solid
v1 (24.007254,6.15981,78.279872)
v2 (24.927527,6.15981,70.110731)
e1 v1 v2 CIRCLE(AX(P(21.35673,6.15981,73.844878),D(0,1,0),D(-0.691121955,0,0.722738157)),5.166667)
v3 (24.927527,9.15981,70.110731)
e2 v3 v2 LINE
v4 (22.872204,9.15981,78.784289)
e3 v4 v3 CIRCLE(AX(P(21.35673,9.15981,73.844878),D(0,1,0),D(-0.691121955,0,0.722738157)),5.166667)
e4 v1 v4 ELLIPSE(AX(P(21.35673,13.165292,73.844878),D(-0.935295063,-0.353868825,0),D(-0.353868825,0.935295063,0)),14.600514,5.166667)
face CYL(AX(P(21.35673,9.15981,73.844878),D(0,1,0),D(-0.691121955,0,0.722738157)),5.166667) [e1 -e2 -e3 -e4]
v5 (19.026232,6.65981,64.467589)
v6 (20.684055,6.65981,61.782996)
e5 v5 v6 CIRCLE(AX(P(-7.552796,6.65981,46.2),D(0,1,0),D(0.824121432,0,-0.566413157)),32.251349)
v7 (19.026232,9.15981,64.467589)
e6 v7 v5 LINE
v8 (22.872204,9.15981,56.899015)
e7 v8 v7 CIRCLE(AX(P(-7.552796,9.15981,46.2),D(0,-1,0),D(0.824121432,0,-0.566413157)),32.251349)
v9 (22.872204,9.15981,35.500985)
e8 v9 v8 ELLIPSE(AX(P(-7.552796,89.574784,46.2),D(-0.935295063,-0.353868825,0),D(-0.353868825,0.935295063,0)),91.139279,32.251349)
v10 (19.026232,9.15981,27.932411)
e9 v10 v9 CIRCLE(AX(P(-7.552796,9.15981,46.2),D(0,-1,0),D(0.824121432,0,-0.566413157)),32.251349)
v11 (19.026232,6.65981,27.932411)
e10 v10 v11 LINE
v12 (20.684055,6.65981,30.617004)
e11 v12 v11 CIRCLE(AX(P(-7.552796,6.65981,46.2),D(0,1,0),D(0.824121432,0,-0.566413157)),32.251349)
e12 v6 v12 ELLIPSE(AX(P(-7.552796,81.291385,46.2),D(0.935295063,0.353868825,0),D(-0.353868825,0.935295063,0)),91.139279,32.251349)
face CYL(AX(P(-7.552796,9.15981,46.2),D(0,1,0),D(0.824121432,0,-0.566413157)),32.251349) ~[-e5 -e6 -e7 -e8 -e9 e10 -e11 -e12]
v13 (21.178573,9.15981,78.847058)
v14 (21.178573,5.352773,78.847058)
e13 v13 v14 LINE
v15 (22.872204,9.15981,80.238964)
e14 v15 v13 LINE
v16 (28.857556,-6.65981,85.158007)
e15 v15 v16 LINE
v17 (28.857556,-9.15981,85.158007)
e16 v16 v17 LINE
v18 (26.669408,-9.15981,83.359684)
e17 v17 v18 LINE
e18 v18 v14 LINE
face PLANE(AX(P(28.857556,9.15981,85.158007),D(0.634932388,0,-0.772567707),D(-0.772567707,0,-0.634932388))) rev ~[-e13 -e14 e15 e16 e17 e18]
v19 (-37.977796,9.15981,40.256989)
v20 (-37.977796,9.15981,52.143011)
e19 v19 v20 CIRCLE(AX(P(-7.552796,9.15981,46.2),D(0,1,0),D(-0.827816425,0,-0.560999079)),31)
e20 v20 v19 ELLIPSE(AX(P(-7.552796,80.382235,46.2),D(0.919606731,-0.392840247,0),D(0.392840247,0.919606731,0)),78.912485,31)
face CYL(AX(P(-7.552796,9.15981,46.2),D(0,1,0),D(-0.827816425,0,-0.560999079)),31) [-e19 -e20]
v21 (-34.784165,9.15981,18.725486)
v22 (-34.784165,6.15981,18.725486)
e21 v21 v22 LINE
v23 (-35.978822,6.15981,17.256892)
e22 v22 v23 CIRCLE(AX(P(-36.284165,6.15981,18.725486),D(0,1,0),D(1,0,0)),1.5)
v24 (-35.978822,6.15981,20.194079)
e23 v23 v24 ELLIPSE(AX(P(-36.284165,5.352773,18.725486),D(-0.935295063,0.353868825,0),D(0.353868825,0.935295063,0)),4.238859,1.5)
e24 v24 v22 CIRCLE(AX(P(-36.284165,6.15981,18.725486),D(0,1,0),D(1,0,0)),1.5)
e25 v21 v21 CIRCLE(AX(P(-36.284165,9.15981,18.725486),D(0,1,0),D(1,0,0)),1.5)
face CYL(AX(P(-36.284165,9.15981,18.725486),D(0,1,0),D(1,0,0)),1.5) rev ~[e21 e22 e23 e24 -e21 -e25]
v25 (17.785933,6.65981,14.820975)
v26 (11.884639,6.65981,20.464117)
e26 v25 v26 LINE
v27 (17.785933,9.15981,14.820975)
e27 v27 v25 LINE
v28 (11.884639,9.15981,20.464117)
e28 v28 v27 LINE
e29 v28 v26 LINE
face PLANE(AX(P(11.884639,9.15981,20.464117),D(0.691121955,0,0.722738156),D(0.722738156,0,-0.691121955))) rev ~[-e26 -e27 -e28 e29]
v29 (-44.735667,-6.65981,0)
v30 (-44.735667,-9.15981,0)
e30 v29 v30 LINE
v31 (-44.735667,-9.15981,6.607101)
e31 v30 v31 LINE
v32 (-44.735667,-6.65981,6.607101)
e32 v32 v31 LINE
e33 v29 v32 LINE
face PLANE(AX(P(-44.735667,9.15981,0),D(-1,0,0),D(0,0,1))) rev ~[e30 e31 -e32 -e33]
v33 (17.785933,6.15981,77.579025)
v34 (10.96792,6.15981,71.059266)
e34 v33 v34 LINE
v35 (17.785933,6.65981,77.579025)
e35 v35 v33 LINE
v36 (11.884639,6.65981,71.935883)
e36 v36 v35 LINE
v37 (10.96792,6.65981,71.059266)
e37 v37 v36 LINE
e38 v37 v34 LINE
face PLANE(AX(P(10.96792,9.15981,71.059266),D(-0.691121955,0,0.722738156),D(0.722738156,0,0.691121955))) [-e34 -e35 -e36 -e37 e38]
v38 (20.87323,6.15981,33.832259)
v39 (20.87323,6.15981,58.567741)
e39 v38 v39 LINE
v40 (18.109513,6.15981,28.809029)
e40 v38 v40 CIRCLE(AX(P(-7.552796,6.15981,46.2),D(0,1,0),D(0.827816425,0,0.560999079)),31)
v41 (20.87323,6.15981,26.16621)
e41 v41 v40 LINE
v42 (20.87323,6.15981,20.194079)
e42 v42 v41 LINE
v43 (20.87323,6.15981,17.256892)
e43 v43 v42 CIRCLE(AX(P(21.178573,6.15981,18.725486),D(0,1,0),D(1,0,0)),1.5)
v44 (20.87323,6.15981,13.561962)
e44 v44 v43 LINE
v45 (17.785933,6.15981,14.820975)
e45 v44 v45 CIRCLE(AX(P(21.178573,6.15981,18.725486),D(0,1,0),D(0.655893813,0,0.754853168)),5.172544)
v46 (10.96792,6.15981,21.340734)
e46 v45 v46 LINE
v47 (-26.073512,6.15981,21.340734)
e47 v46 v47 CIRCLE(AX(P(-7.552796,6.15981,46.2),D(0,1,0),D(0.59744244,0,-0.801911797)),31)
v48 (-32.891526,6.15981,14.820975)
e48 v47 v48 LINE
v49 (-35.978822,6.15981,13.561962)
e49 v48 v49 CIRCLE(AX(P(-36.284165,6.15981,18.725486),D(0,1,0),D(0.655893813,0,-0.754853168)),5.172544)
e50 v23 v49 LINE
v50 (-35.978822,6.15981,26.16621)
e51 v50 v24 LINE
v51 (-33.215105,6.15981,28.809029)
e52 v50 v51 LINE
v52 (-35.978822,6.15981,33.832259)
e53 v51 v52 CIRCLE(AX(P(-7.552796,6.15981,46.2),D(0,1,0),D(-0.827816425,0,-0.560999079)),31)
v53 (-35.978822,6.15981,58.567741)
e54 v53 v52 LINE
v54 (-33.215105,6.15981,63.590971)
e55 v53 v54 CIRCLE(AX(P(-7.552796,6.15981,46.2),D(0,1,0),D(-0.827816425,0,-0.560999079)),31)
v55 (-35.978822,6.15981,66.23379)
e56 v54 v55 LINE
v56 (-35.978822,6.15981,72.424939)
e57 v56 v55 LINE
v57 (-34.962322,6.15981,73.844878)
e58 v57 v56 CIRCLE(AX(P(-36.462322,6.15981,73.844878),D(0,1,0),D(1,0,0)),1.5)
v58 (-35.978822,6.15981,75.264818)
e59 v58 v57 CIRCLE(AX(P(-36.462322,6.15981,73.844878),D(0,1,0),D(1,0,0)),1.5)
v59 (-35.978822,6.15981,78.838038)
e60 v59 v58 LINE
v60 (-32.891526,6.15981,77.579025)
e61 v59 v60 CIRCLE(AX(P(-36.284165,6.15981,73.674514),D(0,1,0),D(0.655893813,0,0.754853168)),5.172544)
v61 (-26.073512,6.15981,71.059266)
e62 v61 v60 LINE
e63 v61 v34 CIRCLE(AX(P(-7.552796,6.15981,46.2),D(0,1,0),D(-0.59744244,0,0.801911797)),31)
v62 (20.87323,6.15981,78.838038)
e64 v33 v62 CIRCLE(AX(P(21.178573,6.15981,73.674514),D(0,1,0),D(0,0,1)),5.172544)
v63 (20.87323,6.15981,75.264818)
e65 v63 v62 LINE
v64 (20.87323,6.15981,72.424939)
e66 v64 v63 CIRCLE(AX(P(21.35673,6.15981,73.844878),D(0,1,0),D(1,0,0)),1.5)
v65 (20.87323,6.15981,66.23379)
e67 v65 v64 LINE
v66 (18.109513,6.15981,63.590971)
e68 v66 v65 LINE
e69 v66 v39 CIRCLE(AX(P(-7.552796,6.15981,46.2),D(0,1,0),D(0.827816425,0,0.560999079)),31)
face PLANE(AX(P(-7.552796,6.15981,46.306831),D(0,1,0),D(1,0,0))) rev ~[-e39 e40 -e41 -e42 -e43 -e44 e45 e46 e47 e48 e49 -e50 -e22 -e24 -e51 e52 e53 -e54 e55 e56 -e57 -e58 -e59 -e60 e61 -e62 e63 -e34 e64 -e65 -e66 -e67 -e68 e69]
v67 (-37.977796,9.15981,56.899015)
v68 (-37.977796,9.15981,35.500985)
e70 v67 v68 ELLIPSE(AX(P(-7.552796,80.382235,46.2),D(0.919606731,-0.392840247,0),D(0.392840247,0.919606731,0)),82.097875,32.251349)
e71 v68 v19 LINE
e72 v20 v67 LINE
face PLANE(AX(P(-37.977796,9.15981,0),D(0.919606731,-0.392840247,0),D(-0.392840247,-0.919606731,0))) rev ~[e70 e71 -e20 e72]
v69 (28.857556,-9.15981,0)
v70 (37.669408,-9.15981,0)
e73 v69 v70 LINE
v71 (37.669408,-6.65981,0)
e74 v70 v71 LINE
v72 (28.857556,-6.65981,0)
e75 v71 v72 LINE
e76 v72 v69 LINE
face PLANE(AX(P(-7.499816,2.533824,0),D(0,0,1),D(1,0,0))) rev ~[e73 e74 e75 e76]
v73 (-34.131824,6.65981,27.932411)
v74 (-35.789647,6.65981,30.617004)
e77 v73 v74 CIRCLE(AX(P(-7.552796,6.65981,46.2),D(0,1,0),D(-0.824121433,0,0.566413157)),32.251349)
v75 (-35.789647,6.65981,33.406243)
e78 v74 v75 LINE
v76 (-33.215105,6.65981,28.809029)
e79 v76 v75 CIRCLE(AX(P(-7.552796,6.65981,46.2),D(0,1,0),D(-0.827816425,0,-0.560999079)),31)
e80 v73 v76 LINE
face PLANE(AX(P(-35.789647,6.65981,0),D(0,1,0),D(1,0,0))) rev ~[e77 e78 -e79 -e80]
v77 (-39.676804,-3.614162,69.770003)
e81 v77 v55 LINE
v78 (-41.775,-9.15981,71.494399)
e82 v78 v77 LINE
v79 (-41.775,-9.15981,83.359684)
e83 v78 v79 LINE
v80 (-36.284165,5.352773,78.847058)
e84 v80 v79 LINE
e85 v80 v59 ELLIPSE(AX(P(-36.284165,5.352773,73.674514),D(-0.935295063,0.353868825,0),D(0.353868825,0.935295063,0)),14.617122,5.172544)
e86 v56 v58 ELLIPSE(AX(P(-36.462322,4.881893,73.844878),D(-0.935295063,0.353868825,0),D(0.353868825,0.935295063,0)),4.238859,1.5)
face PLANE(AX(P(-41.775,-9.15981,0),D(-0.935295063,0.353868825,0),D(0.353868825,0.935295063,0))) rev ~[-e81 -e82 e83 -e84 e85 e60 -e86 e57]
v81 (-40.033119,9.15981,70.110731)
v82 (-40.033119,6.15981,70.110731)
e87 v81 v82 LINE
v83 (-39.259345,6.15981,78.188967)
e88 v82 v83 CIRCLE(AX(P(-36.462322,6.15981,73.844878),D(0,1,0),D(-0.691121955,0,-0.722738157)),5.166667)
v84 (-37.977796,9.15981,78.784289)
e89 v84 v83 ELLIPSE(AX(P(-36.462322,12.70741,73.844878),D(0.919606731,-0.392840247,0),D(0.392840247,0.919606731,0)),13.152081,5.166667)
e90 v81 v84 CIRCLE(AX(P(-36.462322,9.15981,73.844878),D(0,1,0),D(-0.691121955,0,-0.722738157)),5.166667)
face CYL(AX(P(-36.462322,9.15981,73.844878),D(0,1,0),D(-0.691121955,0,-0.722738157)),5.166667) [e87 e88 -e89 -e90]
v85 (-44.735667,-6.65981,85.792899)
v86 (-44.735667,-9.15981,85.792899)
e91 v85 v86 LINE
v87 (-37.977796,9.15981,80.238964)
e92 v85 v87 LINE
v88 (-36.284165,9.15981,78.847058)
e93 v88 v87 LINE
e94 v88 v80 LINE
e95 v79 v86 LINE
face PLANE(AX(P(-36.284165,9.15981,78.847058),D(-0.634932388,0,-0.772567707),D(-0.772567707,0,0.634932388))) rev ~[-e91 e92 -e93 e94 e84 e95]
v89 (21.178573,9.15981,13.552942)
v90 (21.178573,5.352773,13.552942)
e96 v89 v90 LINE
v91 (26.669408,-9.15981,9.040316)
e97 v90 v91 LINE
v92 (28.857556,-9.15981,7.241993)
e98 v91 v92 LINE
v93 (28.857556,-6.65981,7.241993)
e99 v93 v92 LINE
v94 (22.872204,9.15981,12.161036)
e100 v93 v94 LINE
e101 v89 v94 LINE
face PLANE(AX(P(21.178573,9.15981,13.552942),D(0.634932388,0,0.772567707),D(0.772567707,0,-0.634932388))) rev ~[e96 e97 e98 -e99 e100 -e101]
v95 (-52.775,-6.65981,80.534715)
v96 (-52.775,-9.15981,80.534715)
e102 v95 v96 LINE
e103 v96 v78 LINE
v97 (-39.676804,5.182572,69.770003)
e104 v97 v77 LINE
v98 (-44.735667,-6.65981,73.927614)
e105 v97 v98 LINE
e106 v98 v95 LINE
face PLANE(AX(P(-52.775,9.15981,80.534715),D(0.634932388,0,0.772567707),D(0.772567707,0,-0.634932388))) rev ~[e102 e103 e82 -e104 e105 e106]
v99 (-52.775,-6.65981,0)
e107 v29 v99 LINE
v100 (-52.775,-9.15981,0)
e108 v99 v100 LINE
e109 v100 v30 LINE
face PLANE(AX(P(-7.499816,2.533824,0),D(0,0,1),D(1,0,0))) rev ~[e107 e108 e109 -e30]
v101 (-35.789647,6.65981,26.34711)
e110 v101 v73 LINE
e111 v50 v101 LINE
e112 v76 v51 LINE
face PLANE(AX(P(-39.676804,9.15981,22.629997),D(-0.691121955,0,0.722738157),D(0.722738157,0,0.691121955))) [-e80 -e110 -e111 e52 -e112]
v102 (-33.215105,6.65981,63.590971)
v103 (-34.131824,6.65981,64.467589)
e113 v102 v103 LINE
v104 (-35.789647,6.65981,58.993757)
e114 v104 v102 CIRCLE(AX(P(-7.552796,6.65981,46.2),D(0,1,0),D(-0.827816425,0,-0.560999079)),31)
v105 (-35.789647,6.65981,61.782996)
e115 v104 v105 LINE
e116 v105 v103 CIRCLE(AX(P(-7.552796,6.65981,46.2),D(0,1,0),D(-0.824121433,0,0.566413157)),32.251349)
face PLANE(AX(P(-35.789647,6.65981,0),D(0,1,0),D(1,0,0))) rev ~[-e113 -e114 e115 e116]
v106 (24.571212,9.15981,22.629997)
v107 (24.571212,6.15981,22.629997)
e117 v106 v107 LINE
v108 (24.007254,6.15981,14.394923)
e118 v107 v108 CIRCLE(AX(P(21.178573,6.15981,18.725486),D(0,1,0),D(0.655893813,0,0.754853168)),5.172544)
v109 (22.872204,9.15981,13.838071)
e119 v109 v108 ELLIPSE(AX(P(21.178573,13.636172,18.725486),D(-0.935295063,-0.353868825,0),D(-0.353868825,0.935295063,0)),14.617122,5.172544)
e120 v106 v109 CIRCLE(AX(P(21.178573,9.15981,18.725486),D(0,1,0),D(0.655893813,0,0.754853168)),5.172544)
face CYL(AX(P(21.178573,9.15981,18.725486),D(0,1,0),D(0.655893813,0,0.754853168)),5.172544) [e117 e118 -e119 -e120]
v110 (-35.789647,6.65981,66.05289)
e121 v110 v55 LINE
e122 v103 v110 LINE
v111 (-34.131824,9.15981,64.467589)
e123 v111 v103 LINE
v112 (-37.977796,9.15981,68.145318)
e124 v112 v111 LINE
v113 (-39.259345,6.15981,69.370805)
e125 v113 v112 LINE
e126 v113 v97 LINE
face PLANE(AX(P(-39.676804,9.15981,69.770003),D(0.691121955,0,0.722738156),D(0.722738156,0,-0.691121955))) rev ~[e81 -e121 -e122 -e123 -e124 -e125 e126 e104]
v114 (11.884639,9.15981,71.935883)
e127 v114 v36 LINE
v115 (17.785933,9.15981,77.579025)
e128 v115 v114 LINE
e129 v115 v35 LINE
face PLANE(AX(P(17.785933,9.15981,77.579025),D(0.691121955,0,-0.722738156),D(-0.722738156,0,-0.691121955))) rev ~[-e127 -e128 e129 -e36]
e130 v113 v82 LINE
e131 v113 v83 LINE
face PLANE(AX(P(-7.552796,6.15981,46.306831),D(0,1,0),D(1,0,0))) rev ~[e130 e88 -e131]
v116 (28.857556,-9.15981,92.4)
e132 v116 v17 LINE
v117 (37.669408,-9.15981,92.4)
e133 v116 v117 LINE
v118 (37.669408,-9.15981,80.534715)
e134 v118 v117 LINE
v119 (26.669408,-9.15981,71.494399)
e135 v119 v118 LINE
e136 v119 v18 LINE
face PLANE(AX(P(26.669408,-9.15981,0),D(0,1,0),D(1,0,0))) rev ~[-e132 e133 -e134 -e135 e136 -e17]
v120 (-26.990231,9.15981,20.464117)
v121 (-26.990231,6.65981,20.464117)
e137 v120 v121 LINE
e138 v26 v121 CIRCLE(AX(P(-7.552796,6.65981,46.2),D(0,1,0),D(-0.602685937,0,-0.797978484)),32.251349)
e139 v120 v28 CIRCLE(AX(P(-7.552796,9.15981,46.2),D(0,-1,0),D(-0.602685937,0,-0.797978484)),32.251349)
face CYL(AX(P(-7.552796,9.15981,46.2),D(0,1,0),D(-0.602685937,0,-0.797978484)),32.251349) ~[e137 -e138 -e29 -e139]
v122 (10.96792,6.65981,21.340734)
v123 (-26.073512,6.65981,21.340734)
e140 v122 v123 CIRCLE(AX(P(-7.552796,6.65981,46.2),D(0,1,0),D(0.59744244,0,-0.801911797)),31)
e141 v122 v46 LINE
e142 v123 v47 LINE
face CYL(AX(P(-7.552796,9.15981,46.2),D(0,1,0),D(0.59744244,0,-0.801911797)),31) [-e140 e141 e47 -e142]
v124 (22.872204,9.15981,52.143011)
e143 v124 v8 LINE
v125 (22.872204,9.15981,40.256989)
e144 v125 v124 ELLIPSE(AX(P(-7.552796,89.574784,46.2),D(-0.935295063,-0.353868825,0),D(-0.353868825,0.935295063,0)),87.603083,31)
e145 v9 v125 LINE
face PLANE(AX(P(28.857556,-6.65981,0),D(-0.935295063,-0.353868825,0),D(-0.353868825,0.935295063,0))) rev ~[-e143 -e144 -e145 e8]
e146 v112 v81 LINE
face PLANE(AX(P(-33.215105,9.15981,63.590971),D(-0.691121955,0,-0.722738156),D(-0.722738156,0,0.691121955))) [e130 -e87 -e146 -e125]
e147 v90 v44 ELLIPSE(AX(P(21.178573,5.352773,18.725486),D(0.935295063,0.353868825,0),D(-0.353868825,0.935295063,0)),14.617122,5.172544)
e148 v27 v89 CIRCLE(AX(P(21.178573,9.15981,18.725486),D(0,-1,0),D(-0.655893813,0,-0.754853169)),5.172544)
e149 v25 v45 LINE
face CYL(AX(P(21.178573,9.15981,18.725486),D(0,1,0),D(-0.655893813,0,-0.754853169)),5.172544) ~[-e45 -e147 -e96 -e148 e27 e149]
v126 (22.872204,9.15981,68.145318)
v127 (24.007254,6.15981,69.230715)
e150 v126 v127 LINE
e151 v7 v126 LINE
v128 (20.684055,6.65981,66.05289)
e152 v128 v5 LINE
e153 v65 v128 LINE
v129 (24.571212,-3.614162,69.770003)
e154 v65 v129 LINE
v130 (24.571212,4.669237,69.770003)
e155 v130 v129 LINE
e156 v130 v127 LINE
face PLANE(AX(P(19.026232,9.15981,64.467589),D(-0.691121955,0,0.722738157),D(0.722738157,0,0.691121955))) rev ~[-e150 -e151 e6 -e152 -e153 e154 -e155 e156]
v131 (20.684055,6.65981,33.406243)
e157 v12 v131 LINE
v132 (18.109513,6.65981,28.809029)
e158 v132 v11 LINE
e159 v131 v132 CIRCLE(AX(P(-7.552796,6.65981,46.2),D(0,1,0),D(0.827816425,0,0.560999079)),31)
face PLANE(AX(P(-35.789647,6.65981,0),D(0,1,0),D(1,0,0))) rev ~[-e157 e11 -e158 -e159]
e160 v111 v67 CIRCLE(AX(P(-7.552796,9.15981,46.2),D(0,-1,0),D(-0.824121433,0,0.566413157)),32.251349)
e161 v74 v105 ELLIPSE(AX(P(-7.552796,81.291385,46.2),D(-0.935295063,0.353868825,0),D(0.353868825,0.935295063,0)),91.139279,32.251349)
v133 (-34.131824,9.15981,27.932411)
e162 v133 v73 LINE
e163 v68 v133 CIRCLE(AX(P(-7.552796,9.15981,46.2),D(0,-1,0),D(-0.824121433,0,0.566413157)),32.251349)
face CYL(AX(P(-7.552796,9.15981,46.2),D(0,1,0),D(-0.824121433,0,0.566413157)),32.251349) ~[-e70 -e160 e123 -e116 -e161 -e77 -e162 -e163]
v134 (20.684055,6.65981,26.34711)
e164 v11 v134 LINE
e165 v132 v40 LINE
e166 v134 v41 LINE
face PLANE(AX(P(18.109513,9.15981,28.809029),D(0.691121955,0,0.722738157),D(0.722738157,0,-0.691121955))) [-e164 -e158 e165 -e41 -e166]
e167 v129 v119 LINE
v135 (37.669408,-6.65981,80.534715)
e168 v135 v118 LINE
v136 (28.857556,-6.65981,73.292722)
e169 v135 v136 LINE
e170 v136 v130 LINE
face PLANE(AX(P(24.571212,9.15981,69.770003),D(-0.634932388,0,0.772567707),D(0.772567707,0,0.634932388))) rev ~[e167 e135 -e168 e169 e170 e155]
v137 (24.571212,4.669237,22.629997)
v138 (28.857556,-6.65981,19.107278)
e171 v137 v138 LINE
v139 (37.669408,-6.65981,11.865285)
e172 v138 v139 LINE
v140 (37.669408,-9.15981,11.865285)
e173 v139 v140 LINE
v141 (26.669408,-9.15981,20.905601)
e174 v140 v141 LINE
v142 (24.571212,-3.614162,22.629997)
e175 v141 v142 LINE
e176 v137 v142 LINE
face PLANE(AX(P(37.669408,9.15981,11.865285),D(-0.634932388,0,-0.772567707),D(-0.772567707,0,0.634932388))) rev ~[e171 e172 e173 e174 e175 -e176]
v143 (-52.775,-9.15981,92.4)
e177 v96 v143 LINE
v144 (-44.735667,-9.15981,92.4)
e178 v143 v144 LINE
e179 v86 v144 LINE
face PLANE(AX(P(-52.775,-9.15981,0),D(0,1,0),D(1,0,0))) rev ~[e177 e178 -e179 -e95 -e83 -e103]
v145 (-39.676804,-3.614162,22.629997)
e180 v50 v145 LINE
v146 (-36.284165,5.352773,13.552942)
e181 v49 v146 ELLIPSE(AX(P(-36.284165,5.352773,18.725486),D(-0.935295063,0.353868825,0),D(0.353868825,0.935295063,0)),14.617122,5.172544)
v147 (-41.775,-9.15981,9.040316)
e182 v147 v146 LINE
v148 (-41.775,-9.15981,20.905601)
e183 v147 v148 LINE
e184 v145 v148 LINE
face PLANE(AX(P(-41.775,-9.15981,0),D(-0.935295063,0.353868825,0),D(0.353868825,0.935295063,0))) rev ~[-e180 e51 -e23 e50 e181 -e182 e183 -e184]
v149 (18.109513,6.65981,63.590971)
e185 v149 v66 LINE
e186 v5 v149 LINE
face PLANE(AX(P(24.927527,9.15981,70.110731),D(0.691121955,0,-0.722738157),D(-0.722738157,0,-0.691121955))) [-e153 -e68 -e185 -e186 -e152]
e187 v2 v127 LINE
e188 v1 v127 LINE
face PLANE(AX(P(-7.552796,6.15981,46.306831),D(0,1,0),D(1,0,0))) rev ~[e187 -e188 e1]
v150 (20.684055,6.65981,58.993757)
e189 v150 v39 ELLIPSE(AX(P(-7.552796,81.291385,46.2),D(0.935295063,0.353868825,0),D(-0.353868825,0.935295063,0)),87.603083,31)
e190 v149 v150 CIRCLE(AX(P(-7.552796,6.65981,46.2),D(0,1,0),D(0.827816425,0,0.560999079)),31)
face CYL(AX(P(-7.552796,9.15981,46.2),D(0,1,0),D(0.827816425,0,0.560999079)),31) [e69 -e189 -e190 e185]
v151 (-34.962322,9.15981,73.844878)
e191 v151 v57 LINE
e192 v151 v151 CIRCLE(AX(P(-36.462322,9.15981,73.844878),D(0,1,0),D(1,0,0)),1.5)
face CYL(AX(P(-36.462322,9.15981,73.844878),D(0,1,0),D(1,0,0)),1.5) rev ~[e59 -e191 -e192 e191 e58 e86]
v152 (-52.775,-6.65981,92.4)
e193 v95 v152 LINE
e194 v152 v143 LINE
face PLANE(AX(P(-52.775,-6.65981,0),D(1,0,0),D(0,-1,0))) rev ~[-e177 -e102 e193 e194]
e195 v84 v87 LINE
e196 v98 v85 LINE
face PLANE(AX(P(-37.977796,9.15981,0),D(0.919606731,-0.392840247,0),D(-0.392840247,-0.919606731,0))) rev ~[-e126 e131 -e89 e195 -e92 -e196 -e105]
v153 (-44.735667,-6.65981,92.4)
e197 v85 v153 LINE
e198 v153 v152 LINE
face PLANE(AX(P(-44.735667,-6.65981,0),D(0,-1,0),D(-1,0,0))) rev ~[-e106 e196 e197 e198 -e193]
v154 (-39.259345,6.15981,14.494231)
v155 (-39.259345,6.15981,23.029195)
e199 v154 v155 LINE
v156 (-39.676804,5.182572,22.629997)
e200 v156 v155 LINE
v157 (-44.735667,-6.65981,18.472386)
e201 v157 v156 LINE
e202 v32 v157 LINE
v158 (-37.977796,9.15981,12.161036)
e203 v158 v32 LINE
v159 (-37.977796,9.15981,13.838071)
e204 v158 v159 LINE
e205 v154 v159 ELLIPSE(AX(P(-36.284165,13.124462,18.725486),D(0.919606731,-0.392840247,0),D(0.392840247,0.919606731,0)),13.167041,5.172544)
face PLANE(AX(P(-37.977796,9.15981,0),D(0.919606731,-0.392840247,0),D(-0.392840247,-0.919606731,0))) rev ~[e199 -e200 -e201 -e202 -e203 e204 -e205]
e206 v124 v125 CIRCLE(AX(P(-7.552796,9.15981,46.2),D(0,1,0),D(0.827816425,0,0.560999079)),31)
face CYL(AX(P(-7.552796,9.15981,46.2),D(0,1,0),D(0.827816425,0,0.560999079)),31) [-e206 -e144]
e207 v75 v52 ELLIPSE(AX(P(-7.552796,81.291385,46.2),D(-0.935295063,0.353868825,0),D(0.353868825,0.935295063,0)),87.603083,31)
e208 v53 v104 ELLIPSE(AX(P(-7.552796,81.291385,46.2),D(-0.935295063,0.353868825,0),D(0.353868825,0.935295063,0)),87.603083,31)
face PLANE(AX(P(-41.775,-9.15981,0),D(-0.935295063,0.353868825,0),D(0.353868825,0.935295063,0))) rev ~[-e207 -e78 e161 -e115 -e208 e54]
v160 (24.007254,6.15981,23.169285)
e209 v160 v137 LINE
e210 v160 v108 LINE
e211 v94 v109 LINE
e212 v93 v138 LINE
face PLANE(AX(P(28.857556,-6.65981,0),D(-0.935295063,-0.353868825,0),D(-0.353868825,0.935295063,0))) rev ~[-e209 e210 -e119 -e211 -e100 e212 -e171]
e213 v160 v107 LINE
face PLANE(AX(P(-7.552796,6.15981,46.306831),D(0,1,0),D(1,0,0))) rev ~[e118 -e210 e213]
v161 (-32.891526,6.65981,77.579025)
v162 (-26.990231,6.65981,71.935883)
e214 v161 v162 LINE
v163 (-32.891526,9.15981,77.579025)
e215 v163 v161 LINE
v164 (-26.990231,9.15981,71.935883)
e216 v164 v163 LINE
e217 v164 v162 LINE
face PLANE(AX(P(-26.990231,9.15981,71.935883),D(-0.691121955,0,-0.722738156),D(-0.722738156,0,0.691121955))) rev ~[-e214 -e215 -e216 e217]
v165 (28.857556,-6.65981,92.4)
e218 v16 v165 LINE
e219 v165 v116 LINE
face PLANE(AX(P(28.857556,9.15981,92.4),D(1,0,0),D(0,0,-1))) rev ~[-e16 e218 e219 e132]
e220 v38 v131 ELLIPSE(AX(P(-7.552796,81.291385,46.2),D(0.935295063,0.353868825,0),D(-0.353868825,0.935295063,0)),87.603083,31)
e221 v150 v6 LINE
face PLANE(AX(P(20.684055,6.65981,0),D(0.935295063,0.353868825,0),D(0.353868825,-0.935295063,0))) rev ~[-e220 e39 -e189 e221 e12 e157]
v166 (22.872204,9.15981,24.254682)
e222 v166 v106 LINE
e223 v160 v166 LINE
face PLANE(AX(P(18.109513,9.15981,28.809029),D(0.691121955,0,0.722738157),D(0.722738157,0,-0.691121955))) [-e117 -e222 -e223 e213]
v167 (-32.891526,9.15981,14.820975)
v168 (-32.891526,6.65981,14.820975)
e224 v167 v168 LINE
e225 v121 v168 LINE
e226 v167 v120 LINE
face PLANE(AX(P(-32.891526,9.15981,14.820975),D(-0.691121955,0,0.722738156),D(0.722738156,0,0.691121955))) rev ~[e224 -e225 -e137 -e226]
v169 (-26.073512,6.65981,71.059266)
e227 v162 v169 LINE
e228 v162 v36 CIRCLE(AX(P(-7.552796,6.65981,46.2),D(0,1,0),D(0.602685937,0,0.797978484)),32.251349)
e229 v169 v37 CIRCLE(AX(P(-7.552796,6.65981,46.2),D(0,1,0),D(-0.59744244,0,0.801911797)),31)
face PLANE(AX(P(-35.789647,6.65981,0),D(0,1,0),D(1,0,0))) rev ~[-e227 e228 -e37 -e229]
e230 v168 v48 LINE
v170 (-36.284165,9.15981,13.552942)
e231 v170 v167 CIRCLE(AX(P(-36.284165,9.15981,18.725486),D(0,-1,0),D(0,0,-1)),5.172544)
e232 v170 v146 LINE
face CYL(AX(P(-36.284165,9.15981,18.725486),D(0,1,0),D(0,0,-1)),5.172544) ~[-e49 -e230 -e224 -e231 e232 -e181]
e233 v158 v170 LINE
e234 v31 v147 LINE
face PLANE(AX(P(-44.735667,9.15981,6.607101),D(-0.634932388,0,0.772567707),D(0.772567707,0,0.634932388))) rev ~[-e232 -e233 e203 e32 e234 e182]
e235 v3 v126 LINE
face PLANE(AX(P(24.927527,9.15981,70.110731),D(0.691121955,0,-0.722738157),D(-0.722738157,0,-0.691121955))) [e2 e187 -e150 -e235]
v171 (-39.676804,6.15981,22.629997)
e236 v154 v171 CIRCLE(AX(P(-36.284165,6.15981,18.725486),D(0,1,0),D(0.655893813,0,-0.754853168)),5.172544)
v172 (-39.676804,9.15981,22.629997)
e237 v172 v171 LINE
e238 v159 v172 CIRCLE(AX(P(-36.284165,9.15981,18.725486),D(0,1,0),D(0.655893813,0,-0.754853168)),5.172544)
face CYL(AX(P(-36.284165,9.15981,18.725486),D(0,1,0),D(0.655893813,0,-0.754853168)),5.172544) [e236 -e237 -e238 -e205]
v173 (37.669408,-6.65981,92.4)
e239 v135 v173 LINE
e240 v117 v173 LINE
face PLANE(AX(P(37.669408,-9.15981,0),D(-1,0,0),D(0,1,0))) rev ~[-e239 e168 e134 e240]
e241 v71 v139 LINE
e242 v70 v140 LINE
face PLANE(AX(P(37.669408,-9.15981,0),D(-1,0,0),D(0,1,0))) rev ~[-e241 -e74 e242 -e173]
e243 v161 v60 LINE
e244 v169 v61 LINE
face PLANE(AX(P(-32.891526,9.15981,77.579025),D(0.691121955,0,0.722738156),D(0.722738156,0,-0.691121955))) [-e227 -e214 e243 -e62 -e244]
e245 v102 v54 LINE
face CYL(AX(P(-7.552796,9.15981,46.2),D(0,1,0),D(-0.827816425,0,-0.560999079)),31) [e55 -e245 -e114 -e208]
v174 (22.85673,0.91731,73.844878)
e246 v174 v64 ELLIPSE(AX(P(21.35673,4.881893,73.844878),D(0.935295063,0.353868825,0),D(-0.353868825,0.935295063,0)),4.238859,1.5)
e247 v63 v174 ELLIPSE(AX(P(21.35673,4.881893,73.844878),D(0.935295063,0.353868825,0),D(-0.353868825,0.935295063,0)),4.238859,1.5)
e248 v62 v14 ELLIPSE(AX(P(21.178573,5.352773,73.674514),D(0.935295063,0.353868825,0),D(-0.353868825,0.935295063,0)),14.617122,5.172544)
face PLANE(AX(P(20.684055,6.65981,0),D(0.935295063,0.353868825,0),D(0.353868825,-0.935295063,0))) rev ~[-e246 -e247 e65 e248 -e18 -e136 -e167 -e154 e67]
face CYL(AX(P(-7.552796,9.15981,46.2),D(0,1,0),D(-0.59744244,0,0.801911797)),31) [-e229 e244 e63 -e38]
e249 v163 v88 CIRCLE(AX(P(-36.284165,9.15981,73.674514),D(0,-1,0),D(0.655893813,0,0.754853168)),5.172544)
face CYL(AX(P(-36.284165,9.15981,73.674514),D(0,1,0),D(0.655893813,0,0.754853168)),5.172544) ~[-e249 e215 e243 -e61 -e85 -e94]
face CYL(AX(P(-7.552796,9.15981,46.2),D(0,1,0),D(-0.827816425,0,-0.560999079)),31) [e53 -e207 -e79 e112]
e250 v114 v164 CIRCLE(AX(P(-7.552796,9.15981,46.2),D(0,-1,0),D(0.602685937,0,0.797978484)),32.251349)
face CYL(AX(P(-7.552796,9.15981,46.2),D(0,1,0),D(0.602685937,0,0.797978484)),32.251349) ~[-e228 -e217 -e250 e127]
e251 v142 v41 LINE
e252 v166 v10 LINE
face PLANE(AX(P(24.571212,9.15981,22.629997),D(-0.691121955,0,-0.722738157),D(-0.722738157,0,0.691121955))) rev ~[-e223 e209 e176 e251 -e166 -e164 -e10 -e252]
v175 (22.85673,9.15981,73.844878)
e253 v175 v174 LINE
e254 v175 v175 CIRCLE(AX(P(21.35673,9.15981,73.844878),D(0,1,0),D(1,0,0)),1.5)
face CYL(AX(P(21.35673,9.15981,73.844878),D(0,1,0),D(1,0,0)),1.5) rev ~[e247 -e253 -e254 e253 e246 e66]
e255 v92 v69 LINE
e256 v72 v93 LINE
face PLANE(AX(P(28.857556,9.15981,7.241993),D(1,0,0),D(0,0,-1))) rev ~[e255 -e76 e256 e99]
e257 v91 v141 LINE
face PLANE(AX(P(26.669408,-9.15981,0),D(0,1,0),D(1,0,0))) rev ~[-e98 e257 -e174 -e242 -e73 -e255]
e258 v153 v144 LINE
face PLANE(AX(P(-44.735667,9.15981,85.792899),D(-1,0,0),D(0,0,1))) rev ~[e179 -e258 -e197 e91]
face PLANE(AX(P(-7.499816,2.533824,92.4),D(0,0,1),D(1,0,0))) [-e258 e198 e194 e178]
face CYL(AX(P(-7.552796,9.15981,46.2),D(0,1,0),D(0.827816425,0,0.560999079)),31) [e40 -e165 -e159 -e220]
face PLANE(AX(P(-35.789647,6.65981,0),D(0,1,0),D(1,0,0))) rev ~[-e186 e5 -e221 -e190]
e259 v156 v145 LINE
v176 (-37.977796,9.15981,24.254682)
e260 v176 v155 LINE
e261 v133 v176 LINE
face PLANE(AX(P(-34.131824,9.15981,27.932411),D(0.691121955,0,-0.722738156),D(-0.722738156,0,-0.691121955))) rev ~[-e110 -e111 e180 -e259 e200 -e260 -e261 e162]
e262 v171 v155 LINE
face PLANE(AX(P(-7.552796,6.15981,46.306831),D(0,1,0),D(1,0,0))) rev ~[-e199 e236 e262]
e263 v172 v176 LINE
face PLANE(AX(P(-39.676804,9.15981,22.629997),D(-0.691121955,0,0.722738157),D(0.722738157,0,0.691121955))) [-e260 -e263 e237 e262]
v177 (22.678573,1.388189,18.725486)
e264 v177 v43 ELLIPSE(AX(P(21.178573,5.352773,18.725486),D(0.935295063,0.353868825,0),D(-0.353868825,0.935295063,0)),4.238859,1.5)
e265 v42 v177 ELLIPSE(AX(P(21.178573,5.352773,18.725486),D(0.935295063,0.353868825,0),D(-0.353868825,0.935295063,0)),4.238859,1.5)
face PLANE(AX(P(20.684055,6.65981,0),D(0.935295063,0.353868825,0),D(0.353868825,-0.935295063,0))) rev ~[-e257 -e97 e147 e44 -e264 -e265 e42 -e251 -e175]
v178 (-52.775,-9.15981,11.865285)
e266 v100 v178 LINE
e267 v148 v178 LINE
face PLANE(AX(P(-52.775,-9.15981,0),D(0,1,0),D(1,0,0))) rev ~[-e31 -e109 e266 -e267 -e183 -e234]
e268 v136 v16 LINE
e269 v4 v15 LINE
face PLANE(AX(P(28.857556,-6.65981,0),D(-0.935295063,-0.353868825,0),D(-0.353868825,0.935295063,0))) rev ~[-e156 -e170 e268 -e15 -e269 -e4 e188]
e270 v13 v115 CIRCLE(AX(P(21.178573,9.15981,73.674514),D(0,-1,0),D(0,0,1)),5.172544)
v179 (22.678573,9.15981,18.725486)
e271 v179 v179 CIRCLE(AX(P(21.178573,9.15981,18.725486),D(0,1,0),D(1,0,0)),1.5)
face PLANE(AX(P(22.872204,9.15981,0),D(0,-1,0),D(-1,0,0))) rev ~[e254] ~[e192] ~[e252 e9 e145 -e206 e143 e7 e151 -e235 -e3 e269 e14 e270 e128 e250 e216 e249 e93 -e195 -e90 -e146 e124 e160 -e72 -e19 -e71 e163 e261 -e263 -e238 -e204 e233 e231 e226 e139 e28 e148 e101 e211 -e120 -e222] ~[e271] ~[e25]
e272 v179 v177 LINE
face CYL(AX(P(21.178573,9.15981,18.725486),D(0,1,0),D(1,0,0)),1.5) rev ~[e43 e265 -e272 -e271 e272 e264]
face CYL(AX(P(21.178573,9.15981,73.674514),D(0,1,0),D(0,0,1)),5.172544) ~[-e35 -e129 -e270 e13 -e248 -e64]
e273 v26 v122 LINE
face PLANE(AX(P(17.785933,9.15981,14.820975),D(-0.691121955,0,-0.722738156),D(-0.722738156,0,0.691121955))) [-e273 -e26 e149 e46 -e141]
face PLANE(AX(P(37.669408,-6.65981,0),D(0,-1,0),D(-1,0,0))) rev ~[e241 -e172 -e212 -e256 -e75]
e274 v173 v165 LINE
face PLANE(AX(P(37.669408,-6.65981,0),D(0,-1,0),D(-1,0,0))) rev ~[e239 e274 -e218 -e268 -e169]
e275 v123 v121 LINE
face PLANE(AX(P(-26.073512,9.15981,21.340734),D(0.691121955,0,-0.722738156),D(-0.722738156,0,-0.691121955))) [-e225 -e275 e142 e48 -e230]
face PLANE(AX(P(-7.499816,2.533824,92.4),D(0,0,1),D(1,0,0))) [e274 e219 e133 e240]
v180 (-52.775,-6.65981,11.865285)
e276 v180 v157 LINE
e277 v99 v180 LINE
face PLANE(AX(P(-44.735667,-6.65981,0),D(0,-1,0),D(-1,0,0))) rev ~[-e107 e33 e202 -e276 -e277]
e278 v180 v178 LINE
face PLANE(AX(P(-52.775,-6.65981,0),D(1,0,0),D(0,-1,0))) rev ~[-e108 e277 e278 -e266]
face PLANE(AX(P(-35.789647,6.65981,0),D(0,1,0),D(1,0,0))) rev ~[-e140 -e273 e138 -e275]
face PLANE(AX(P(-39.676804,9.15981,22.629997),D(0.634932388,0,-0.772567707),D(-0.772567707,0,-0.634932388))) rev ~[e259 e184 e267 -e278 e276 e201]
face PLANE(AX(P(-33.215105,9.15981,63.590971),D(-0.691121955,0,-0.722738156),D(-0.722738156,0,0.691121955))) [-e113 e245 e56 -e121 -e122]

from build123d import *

# Parameters (mm, degrees)
BOSS_EXTRUDE1_DEPTH = 92.4
BOSS_EXTRUDE2_DEPTH = 3
SKETCH3_R           = 1.5
CUT_EXTRUDE1_DEPTH  = 19.319620864
CUT_EXTRUDE2_DEPTH  = 19.319620864


with BuildPart() as part:
    # Sketch1 → Boss-Extrude1 (new body)
    with BuildSketch(Plane.XY):
        Polygon((-52.775, -9.159810432), (-41.775, -9.159810432), (-35.789647492, 6.659810432), (20.684055398, 6.659810432), (26.669407906, -9.159810432), (37.669407906, -9.159810432), (37.669407906, -6.659810432), (28.857556463, -6.659810432), (22.872203955, 9.159810432), (-37.977796049, 9.159810432), (-44.73566716, -6.659810432), (-52.775, -6.659810432), align=None)
    extrude(amount=BOSS_EXTRUDE1_DEPTH)

    # Sketch2 → Boss-Extrude2 (add)
    with BuildSketch(Plane(origin=(0, 9.159810432, 0), x_dir=(1, 0, 0), z_dir=(0, 1, 0))):
        with BuildLine():
            Line((-32.891525537, -77.579025356), (-26.07351169, -71.059265718))
            ThreePointArc((-26.07351169, -71.059265718), (-7.552796047, -77.2), (10.967919597, -71.059265718))
            Line((10.967919597, -71.059265718), (17.785933443, -77.579025356))
            ThreePointArc((17.785933443, -77.579025356), (25.090877354, -77.415674983), (24.927526982, -70.110731072))
            Line((24.927526982, -70.110731072), (18.109513135, -63.590971435))
            ThreePointArc((18.109513135, -63.590971435), (23.447203953, -46.2), (18.109513135, -28.809028565))
            Line((18.109513135, -28.809028565), (24.571212266, -22.629996647))
            ThreePointArc((24.571212266, -22.629996647), (25.083083856, -15.332846234), (17.785933443, -14.820974644))
            Line((17.785933443, -14.820974644), (10.967919597, -21.340734282))
            ThreePointArc((10.967919597, -21.340734282), (-7.552796047, -15.2), (-26.07351169, -21.340734282))
            Line((-26.07351169, -21.340734282), (-32.891525537, -14.820974644))
            ThreePointArc((-32.891525537, -14.820974644), (-40.188675949, -15.332846234), (-39.676804359, -22.629996647))
            Line((-39.676804359, -22.629996647), (-33.215105229, -28.809028565))
            ThreePointArc((-33.215105229, -28.809028565), (-38.552796047, -46.2), (-33.215105229, -63.590971435))
            Line((-33.215105229, -63.590971435), (-40.033119075, -70.110731072))
            ThreePointArc((-40.033119075, -70.110731072), (-40.196469448, -77.415674983), (-32.891525537, -77.579025356))
        make_face()
    extrude(amount=-BOSS_EXTRUDE2_DEPTH)

    # Sketch3 → Cut-Extrude1 (cut, through all)
    with BuildSketch(Plane(origin=(0, 9.159810432, 0), x_dir=(1, 0, 0), z_dir=(0, 1, 0))):
        with Locations((-36.284164948, -18.725485646)):
            Circle(SKETCH3_R)
        with Locations((21.178572854, -18.725485646)):
            Circle(SKETCH3_R)
        with Locations((-36.462322306, -73.844878214)):
            Circle(SKETCH3_R)
        with Locations((21.356730213, -73.844878214)):
            Circle(SKETCH3_R)
    extrude(amount=-CUT_EXTRUDE1_DEPTH, mode=Mode.SUBTRACT)

    # Sketch4 → Cut-Extrude2 (cut, through all)
    with BuildSketch(Plane(origin=(0, 9.159810432, 0), x_dir=(1, 0, 0), z_dir=(0, 1, 0))):
        with BuildLine():
            Line((-44.73566716, -6.607100908), (-36.284164948, -13.552941945))
            ThreePointArc((-36.284164948, -13.552941945), (-34.473232239, -13.880309585), (-32.891525537, -14.820974644))
            Line((-32.891525537, -14.820974644), (-26.99023083, -20.464117047))
            ThreePointArc((-26.99023083, -20.464117047), (-7.552796047, -13.948650534), (11.884638737, -20.464117047))
            Line((11.884638737, -20.464117047), (17.785933443, -14.820974644))
            ThreePointArc((17.785933443, -14.820974644), (19.367640146, -13.880309585), (21.178572854, -13.552941945))
            Line((21.178572854, -13.552941945), (28.857556463, -7.241992941))
            Line((28.857556463, -7.241992941), (28.857556463, 0))
            Line((28.857556463, 0), (-44.73566716, 0))
            Line((-44.73566716, 0), (-44.73566716, -6.607100908))
        make_face()
        with BuildLine():
            Line((28.857556463, -85.158007059), (21.178572854, -78.847058055))
            ThreePointArc((21.178572854, -78.847058055), (19.367640146, -78.519690415), (17.785933443, -77.579025356))
            Line((17.785933443, -77.579025356), (11.884638737, -71.935882953))
            ThreePointArc((11.884638737, -71.935882953), (-7.552796047, -78.451349466), (-26.99023083, -71.935882953))
            Line((-26.99023083, -71.935882953), (-32.891525537, -77.579025356))
            ThreePointArc((-32.891525537, -77.579025356), (-34.473232239, -78.519690415), (-36.284164948, -78.847058055))
            Line((-36.284164948, -78.847058055), (-44.73566716, -85.792899092))
            Line((-44.73566716, -85.792899092), (-44.73566716, -92.4))
            Line((-44.73566716, -92.4), (28.857556463, -92.4))
            Line((28.857556463, -92.4), (28.857556463, -85.158007059))
        make_face()
        with BuildLine():
            Line((-39.676804359, -22.629996647), (-52.775, -11.865284942))
            Line((-52.775, -11.865284942), (-52.775, -80.534715058))
            Line((-52.775, -80.534715058), (-39.676804359, -69.770003353))
            Line((-39.676804359, -69.770003353), (-34.131824369, -64.46758867))
            ThreePointArc((-34.131824369, -64.46758867), (-39.804145512, -46.2), (-34.131824369, -27.93241133))
            Line((-34.131824369, -27.93241133), (-39.676804359, -22.629996647))
        make_face()
        with BuildLine():
            Line((24.571212266, -69.770003353), (37.669407906, -80.534715058))
            Line((37.669407906, -80.534715058), (37.669407906, -11.865284942))
            Line((37.669407906, -11.865284942), (24.571212266, -22.629996647))
            Line((24.571212266, -22.629996647), (19.026232275, -27.93241133))
            ThreePointArc((19.026232275, -27.93241133), (24.698553419, -46.2), (19.026232275, -64.46758867))
            Line((19.026232275, -64.46758867), (24.571212266, -69.770003353))
        make_face()
    extrude(amount=-CUT_EXTRUDE2_DEPTH, mode=Mode.SUBTRACT)


solid = part.part
